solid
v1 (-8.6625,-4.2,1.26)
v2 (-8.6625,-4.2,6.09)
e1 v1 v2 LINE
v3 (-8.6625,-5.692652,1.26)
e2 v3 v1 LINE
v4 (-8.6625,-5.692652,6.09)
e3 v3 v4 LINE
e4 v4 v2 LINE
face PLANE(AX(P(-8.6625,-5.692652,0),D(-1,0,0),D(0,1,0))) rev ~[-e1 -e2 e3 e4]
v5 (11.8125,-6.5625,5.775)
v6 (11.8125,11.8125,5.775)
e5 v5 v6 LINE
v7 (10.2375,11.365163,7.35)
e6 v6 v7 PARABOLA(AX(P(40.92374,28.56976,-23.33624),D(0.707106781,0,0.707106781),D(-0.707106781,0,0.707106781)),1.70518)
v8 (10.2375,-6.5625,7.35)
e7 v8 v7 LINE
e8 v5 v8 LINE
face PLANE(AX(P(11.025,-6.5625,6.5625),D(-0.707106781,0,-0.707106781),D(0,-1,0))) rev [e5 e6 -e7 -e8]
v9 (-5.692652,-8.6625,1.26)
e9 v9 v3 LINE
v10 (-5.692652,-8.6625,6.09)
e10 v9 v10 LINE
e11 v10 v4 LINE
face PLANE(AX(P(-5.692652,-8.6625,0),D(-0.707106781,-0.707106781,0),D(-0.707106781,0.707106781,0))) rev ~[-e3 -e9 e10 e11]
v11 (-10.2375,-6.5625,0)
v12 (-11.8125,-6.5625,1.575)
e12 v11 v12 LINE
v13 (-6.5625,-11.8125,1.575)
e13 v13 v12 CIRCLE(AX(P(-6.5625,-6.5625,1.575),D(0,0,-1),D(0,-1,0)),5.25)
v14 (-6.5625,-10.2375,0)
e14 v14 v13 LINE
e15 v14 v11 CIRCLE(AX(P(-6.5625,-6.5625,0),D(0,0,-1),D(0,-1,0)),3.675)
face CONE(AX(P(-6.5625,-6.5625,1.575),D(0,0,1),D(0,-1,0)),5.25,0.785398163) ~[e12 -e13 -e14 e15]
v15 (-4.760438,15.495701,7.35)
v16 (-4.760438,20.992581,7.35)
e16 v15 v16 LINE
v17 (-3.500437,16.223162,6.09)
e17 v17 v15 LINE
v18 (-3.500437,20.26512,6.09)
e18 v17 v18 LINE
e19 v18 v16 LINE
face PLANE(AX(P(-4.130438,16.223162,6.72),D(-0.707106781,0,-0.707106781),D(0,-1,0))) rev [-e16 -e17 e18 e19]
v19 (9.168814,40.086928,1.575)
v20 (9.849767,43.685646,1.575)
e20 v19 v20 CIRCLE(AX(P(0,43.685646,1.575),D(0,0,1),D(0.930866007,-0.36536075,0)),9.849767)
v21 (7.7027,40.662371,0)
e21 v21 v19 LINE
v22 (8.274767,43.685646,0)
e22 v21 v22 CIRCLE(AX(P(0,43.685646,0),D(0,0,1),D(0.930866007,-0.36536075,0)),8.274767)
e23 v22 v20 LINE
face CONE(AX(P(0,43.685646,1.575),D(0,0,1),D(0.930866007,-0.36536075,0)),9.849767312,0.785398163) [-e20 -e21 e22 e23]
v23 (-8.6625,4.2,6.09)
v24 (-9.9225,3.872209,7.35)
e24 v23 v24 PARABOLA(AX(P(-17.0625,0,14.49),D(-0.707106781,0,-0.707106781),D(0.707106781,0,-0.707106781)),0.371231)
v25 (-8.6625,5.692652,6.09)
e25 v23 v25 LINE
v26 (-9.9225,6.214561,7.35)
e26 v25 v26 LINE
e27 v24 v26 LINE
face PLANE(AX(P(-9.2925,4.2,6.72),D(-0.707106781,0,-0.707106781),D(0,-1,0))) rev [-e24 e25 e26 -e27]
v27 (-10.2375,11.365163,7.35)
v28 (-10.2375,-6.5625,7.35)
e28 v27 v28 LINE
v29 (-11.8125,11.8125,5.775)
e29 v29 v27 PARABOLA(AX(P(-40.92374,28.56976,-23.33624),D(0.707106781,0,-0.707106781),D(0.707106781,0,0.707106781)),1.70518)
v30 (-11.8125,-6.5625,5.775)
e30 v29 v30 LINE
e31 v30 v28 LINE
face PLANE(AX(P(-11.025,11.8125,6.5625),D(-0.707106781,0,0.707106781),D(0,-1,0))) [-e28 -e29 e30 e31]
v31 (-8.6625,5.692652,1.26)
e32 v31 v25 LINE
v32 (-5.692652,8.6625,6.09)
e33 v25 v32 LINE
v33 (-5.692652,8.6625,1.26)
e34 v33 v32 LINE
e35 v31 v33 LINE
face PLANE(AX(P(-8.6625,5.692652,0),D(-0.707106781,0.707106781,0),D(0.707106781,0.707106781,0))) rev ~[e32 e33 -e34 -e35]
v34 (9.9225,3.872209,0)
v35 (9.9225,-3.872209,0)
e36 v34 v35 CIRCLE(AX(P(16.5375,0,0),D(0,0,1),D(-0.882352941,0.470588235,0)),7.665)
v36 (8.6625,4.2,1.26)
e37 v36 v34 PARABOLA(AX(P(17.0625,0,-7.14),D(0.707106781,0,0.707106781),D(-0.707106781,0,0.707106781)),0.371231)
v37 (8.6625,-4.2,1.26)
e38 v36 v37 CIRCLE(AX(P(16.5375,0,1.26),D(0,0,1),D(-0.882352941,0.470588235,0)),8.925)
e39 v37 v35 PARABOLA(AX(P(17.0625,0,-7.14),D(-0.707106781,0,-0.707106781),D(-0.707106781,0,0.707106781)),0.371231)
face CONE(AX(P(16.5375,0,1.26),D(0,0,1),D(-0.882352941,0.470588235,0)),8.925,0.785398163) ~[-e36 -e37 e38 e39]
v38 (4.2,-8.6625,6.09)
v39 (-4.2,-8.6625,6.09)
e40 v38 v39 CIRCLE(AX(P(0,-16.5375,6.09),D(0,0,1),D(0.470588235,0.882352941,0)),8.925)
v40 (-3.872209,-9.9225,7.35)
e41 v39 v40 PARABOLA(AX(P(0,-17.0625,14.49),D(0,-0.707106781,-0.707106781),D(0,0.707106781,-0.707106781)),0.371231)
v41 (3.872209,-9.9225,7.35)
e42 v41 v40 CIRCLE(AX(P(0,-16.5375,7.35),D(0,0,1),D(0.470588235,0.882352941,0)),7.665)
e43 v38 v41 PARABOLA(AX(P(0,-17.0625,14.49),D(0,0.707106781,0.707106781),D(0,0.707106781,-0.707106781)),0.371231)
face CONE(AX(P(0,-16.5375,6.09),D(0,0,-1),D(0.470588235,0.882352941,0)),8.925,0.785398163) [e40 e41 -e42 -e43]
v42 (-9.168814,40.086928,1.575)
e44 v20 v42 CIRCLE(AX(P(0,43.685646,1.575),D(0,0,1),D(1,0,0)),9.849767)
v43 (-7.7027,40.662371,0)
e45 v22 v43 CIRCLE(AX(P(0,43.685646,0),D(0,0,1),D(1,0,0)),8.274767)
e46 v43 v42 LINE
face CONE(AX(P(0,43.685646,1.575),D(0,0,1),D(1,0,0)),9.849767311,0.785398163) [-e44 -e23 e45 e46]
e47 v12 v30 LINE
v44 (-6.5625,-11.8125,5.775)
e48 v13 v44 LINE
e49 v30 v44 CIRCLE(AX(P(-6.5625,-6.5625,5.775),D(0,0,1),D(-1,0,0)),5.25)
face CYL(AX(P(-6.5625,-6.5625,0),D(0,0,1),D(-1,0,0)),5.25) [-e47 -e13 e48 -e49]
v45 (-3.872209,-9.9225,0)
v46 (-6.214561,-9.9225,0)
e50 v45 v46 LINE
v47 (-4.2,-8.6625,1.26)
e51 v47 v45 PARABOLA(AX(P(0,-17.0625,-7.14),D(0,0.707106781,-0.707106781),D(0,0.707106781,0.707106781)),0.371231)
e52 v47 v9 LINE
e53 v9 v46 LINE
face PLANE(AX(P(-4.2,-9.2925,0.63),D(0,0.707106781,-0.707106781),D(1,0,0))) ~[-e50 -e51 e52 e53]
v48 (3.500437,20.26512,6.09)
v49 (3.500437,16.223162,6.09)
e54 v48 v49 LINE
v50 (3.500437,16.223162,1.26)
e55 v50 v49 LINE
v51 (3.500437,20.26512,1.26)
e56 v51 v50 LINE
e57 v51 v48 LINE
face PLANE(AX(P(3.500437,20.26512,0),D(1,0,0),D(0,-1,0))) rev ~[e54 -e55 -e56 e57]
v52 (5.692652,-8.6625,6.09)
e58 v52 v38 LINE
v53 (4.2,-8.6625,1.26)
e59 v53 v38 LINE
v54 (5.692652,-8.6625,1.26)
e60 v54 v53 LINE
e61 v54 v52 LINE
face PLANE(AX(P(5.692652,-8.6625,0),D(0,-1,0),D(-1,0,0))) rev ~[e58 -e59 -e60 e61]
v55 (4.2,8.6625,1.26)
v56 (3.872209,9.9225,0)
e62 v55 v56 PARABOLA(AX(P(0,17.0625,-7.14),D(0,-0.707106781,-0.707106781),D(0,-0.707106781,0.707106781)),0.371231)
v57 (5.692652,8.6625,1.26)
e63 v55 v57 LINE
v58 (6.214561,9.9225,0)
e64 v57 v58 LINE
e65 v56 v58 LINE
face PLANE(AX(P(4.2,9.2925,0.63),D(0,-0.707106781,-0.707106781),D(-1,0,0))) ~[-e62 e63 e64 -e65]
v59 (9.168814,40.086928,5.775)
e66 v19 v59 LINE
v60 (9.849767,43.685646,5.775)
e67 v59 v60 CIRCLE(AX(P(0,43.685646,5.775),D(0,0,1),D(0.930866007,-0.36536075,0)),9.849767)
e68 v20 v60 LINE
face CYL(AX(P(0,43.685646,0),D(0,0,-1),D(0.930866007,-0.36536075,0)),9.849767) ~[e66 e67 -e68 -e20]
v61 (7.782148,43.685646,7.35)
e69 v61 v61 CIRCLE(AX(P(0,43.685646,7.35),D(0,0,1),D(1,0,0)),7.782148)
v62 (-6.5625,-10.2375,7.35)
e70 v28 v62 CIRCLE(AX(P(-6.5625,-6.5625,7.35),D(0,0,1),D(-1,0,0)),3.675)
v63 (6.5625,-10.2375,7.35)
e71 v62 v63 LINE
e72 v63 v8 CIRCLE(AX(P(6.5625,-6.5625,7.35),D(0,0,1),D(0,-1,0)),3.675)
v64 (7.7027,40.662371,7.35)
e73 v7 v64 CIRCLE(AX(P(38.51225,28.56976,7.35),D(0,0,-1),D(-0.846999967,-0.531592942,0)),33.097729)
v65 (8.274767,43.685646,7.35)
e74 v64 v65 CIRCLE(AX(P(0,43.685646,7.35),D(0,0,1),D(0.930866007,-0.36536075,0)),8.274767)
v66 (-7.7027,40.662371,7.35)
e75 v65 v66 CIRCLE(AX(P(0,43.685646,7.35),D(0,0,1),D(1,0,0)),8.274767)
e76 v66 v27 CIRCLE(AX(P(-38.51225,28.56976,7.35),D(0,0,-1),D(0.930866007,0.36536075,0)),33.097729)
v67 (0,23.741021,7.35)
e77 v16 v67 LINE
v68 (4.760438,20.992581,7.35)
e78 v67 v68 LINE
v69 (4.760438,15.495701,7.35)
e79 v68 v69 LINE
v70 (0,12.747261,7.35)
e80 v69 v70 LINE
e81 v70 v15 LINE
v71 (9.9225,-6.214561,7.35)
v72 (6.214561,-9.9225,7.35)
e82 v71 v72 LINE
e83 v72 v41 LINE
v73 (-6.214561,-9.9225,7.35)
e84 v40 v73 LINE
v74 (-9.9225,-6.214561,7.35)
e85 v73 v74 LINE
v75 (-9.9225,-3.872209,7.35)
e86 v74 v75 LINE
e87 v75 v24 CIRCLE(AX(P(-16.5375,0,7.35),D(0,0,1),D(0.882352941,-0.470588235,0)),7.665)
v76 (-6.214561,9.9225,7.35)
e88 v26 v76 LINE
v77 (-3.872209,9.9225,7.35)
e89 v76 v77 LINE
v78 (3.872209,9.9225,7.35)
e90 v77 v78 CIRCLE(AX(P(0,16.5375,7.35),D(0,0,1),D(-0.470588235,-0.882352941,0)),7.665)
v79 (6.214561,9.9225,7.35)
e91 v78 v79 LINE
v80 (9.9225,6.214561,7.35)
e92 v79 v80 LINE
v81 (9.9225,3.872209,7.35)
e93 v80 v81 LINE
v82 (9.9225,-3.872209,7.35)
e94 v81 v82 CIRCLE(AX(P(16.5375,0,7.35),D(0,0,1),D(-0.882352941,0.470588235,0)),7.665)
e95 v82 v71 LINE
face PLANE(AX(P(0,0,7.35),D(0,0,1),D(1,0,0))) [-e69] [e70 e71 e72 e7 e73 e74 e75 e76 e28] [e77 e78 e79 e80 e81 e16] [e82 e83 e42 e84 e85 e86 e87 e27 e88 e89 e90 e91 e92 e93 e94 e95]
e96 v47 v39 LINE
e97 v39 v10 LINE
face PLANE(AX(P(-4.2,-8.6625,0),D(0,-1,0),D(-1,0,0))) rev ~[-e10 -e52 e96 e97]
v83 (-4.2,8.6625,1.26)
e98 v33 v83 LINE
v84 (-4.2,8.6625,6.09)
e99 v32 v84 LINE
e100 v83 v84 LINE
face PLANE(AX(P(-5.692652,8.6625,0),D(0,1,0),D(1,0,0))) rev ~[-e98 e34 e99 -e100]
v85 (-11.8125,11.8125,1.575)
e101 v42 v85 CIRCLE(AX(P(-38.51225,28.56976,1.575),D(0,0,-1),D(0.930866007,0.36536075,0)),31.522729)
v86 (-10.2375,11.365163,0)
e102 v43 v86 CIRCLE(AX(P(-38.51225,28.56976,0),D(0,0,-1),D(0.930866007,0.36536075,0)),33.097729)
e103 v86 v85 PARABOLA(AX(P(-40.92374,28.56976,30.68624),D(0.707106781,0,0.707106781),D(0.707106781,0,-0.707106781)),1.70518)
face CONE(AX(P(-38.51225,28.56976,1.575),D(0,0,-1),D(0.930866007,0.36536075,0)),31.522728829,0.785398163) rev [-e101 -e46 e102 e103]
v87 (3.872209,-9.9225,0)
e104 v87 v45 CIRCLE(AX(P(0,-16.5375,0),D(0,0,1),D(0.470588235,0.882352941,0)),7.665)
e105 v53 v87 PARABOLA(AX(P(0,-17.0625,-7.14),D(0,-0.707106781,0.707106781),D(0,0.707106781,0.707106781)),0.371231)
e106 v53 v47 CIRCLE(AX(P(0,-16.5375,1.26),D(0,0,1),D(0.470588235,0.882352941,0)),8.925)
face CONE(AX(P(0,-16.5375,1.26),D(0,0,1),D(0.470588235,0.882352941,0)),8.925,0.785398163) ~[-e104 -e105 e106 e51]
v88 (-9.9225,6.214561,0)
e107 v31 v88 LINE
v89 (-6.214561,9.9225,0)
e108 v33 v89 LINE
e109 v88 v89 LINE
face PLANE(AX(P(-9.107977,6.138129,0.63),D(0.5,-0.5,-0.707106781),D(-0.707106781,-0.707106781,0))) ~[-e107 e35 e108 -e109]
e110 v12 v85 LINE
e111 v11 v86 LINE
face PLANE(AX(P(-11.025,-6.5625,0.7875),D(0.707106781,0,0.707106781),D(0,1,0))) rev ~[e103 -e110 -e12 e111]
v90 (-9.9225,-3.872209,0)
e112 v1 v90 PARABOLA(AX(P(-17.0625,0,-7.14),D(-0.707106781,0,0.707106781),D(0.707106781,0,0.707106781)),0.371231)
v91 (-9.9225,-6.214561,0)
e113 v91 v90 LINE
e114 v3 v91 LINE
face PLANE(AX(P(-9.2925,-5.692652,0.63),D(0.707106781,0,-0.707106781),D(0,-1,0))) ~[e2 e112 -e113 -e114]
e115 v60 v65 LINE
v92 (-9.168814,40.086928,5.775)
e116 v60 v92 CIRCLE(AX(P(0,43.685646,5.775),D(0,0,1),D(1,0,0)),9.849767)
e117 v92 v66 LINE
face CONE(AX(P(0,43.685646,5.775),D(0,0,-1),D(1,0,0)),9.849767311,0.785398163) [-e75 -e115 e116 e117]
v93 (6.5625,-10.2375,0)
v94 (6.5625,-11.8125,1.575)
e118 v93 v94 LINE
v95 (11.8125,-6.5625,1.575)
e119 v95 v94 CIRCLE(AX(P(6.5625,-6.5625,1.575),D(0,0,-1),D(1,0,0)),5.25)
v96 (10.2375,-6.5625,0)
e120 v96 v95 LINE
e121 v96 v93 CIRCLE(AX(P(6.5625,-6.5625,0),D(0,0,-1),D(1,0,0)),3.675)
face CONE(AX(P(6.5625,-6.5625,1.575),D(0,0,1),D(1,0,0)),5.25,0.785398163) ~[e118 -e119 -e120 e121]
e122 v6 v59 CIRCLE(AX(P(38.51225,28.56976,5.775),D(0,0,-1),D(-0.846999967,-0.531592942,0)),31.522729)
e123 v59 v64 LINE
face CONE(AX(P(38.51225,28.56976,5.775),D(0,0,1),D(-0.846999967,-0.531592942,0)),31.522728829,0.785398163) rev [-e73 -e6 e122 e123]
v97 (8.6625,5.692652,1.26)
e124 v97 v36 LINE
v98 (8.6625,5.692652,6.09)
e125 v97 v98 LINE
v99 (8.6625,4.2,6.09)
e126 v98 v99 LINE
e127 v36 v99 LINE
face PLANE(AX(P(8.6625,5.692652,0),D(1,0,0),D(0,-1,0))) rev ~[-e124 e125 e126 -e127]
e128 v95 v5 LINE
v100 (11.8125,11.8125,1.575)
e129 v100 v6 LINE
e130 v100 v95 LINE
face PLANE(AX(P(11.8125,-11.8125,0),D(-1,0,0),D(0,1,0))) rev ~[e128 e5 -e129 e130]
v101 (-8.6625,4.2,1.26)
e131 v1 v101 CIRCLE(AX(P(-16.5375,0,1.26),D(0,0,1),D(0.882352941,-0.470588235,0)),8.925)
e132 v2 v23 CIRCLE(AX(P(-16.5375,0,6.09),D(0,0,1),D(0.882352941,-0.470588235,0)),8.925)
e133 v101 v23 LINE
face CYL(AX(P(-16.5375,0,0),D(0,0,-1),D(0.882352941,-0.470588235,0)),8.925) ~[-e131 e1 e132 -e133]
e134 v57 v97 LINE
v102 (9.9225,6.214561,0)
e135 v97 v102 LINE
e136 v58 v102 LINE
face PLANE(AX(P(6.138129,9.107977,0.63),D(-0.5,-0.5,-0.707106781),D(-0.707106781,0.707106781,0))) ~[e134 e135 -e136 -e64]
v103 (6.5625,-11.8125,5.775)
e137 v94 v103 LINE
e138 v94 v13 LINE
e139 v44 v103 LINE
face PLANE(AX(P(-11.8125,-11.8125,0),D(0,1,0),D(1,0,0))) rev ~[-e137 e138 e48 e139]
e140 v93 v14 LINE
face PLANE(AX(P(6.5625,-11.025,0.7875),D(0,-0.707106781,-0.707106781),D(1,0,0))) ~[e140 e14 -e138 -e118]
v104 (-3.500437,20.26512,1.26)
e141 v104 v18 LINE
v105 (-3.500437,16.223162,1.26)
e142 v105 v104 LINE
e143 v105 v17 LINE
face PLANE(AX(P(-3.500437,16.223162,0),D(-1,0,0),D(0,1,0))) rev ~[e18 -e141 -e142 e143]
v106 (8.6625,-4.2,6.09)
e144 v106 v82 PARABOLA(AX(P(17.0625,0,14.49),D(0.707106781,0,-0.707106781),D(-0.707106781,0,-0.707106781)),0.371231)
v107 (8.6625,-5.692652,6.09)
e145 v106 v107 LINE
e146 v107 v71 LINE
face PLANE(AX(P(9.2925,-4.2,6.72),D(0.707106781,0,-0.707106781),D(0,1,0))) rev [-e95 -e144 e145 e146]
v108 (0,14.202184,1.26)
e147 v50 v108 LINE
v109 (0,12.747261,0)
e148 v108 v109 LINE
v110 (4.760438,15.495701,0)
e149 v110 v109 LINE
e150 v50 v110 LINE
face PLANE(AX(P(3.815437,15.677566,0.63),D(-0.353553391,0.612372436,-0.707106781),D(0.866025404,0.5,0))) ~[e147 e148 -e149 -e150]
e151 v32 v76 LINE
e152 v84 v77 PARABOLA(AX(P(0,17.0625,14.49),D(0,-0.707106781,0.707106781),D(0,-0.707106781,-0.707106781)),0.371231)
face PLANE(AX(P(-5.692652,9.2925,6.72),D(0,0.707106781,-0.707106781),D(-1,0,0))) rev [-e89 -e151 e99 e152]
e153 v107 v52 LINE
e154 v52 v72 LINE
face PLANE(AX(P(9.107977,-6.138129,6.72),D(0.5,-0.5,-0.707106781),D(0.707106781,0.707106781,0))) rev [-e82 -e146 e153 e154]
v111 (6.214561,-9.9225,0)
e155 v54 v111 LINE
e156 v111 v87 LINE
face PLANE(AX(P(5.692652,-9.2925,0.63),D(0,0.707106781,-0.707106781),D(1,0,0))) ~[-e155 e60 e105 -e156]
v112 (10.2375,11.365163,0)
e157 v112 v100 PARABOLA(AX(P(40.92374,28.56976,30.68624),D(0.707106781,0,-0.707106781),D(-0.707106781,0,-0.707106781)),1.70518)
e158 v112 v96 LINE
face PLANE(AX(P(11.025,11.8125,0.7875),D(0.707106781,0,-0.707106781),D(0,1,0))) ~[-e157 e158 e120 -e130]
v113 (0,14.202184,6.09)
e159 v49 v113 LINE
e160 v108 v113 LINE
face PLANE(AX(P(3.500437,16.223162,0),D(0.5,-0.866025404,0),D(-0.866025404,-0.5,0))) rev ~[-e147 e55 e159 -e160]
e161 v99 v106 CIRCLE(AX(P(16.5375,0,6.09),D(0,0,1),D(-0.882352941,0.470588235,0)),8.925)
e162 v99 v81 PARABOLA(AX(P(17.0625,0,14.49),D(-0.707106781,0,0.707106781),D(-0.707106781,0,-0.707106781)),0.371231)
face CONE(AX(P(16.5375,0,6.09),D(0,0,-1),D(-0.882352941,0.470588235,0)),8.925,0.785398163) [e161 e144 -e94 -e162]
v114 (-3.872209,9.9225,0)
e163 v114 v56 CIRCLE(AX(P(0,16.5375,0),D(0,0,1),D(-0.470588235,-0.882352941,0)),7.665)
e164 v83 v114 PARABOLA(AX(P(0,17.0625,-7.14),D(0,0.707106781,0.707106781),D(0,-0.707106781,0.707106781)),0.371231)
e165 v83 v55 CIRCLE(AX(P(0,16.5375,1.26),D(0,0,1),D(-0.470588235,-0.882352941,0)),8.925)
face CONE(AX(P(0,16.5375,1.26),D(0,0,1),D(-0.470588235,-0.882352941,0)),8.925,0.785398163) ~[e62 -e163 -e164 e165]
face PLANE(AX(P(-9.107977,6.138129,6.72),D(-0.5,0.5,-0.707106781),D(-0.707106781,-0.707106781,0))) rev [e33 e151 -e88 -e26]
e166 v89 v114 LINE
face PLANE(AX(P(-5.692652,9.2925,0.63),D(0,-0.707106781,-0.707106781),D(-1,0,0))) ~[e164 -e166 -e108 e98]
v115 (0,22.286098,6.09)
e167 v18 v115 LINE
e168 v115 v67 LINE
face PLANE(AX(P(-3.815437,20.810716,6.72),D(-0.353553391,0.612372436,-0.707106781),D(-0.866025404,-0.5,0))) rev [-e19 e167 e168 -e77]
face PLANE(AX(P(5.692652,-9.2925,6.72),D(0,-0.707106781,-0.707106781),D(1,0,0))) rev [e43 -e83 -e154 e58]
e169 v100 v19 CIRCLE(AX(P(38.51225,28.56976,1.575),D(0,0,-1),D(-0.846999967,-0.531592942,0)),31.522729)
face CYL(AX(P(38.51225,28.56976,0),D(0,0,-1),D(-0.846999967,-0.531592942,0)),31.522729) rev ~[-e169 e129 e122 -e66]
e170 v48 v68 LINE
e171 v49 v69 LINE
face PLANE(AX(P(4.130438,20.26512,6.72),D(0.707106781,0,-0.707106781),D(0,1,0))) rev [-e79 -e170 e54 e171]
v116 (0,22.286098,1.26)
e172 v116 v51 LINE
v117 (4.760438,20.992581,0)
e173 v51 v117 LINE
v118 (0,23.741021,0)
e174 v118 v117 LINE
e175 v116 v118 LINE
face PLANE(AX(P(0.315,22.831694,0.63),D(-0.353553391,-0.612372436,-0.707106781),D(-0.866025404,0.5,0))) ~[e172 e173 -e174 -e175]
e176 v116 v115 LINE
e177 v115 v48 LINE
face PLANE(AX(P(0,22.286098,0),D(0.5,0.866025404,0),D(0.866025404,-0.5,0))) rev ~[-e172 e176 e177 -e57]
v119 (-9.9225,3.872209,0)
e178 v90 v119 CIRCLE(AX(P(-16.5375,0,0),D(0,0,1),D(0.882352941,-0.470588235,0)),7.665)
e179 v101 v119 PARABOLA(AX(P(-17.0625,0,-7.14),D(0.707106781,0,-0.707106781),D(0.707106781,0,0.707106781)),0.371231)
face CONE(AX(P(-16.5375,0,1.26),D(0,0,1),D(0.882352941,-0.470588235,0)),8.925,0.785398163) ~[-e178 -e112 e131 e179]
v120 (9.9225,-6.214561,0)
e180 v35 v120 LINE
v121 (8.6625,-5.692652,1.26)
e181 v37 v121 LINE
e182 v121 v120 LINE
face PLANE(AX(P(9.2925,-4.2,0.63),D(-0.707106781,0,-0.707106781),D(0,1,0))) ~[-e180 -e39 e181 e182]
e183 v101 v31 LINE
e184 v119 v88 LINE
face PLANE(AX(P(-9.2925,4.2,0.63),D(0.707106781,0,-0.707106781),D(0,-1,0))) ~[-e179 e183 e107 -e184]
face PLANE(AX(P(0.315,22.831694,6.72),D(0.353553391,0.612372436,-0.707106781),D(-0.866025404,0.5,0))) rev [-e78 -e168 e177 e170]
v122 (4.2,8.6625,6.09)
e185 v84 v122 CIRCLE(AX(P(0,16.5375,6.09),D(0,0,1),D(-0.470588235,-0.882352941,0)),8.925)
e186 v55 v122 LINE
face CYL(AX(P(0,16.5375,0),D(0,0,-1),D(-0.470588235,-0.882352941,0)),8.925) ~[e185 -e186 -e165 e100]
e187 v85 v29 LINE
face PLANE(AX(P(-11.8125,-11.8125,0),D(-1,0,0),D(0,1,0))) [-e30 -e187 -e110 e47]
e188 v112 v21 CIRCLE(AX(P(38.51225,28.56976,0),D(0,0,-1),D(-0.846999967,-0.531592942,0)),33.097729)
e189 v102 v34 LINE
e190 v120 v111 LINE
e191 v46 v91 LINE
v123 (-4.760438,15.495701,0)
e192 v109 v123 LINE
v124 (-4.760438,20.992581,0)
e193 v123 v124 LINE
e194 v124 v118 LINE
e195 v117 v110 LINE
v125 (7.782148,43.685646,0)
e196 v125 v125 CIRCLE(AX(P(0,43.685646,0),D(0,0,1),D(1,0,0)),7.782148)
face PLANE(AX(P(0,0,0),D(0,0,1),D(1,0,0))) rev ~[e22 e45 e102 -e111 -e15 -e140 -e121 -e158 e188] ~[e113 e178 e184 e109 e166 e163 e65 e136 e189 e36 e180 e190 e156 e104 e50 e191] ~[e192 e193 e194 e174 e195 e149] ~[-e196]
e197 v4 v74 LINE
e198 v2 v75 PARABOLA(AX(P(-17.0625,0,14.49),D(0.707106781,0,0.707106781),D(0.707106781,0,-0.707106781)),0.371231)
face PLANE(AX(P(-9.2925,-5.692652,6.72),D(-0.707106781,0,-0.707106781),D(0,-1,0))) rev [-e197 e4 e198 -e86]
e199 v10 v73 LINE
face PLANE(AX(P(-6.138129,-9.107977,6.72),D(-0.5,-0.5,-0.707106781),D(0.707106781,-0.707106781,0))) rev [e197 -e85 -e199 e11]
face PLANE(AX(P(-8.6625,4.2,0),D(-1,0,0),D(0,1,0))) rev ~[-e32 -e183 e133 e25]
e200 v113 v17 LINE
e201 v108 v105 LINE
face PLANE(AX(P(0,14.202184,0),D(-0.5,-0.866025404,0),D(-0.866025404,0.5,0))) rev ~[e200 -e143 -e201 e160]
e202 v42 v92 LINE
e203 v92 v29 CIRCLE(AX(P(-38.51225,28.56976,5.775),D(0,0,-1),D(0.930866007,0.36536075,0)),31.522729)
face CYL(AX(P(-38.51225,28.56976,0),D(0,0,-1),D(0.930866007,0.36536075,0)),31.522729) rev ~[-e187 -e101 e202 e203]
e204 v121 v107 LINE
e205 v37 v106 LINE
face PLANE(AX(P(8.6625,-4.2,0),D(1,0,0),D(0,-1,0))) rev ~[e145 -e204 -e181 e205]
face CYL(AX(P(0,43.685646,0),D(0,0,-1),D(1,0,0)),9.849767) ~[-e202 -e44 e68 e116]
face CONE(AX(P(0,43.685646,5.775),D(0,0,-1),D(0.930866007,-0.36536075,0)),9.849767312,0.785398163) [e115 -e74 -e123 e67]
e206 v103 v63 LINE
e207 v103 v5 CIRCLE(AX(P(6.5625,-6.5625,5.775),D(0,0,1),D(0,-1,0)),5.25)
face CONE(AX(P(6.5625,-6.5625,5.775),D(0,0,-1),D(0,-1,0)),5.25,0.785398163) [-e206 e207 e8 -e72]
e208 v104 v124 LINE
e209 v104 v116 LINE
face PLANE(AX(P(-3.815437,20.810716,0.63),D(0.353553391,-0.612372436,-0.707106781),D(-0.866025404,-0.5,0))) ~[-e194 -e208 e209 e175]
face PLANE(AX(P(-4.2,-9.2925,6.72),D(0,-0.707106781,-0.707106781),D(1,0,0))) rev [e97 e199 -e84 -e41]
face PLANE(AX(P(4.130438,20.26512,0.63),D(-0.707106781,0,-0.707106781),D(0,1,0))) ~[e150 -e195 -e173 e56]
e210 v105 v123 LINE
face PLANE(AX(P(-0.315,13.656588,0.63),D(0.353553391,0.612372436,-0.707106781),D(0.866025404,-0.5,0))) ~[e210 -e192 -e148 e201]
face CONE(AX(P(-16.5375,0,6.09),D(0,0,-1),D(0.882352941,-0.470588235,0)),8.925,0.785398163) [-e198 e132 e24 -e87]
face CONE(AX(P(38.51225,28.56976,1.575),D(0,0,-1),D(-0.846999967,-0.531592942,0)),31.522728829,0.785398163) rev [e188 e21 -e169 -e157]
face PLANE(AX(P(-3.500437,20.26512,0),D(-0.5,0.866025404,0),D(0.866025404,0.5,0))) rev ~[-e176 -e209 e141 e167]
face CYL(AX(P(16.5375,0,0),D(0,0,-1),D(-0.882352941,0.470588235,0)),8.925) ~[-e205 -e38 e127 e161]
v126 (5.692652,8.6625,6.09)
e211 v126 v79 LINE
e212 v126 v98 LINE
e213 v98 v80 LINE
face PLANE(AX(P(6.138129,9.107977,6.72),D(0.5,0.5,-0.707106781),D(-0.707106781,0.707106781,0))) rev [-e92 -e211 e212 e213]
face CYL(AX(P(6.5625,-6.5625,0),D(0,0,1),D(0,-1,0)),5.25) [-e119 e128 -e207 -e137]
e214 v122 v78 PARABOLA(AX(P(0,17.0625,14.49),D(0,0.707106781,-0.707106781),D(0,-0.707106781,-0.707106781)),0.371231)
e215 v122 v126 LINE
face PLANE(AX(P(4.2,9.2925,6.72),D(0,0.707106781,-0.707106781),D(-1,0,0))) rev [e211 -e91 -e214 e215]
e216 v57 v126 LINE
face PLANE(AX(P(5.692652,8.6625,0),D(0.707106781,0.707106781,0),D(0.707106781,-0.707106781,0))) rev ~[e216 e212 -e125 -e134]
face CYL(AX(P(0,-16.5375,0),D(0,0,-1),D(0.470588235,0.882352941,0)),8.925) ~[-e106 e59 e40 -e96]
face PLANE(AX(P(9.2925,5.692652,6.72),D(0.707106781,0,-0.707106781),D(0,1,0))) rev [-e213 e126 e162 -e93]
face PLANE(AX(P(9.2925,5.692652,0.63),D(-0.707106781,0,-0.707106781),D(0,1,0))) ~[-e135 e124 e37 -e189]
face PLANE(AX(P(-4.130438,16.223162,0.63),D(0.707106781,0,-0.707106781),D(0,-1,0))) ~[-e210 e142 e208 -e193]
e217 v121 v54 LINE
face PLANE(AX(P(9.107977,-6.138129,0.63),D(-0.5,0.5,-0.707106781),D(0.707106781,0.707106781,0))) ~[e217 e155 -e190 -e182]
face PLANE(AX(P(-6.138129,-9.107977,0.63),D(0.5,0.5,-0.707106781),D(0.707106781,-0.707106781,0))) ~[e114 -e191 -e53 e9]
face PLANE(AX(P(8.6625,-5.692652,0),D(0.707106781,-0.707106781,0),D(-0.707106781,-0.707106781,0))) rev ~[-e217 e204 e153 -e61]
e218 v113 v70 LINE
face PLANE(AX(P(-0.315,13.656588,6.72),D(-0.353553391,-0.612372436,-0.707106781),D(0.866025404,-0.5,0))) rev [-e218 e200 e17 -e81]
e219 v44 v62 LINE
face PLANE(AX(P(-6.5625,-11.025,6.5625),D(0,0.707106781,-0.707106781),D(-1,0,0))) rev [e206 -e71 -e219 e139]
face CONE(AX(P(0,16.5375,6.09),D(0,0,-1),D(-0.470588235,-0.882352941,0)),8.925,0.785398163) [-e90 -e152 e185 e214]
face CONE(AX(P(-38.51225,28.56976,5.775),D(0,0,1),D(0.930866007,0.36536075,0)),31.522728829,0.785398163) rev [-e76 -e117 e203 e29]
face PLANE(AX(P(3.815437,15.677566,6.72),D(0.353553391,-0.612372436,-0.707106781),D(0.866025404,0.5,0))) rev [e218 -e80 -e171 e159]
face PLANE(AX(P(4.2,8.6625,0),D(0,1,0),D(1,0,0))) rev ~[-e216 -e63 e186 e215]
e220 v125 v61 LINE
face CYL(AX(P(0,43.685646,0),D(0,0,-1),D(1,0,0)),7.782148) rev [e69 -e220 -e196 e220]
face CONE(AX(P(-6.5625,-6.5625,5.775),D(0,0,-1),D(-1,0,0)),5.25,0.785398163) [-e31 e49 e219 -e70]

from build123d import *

# Parameters (mm, degrees)
F0_W     = 22.5
F0_H     = 22.5
F0_R     = 7.4115696456
F1_DEPTH = 7
F2_SIZE  = 1.2
F3_R     = 5
F4_SIZE  = 1.5
F5_SCALE = 1.05


with BuildPart() as f1:
    # F0 (on Top) → F1 (new body)
    with BuildSketch(Plane.XY):
        Rectangle(F0_W, F0_H)
        with BuildLine():
            Line((4, 8.25), (5.4215728753, 8.25))
            Line((5.4215728753, 8.25), (8.25, 5.4215728753))
            Line((8.25, 5.4215728753), (8.25, 4))
            ThreePointArc((8.25, 4), (7.25, 0), (8.25, -4))
            Line((8.25, -4), (8.25, -5.4215728753))
            Line((8.25, -5.4215728753), (5.4215728753, -8.25))
            Line((5.4215728753, -8.25), (4, -8.25))
            ThreePointArc((4, -8.25), (0, -7.25), (-4, -8.25))
            Line((-4, -8.25), (-5.4215728753, -8.25))
            Line((-5.4215728753, -8.25), (-8.25, -5.4215728753))
            Line((-8.25, -5.4215728753), (-8.25, -4))
            ThreePointArc((-8.25, -4), (-7.25, 0), (-8.25, 4))
            Line((-8.25, 4), (-8.25, 5.4215728753))
            Line((-8.25, 5.4215728753), (-5.4215728753, 8.25))
            Line((-5.4215728753, 8.25), (-4, 8.25))
            ThreePointArc((-4, 8.25), (0, 7.25), (4, 8.25))
        make_face(mode=Mode.SUBTRACT)
        with BuildLine():
            Line((-11.25, 11.25), (11.25, 11.25))
            ThreePointArc((11.25, 11.25), (6.7870639403, 24.4144327009), (8.7322033942, 38.1780266762))
            ThreePointArc((8.7322033942, 38.1780266762), (0, 32.2246467329), (-8.7322033942, 38.1780266762))
            ThreePointArc((-8.7322033942, 38.1780266762), (-6.7870639403, 24.4144327009), (-11.25, 11.25))
        make_face()
        Polygon((3.33375, 15.4506308903), (0, 13.5258894304), (-3.33375, 15.4506308903), (-3.33375, 19.3001138101), (0, 21.22485527), (3.33375, 19.3001138101), align=None, mode=Mode.SUBTRACT)
        with BuildLine():
            ThreePointArc((-8.7322033942, 38.1780266762), (0, 32.2246467329), (8.7322033942, 38.1780266762))
            ThreePointArc((8.7322033942, 38.1780266762), (9.2171730729, 39.8612931132), (9.3807307723, 41.6053775052))
            ThreePointArc((9.3807307723, 41.6053775052), (-1.744084392, 50.8225505781), (-8.7322033942, 38.1780266762))
        make_face()
        with Locations((0, 41.6053775052)):
            Circle(F0_R, mode=Mode.SUBTRACT)
    extrude(amount=F1_DEPTH)

    # F2
    f2_edges = [f1.edges().sort_by_distance(p)[0] for p in [
        (-7.25, 0, 7),
        (-8.25, 4.710786, 7),
        (-6.835786, 6.835786, 7),
        (-4.710786, 8.25, 7),
        (0, 7.25, 7),
        (4.710786, 8.25, 7),
        (6.835786, 6.835786, 7),
        (8.25, 4.710786, 7),
        (7.25, 0, 7),
        (8.25, -4.710786, 7),
        (6.835786, -6.835786, 7),
        (4.710786, -8.25, 7),
        (0, -7.25, 7),
        (-4.710786, -8.25, 7),
        (-6.835786, -6.835786, 7),
        (-8.25, -4.710786, 7),
        (1.666875, 14.48826, 7),
        (-1.666875, 14.48826, 7),
        (-3.33375, 17.375372, 7),
        (-1.666875, 20.262485, 7),
        (1.666875, 20.262485, 7),
        (3.33375, 17.375372, 7),
        (-1.666875, 14.48826, 0),
        (1.666875, 14.48826, 0),
        (3.33375, 17.375372, 0),
        (1.666875, 20.262485, 0),
        (-1.666875, 20.262485, 0),
        (0, -7.25, 0),
        (-4.710786, -8.25, 0),
        (-6.835786, -6.835786, 0),
        (-8.25, -4.710786, 0),
        (-7.25, 0, 0),
        (-8.25, 4.710786, 0),
        (-4.710786, 8.25, 0),
        (4.710786, 8.25, 0),
        (-6.835786, 6.835786, 0),
        (0, 7.25, 0),
        (6.835786, 6.835786, 0),
        (8.25, 4.710786, 0),
        (7.25, 0, 0),
        (8.25, -4.710786, 0),
        (6.835786, -6.835786, 0),
        (4.710786, -8.25, 0),
        (-3.33375, 17.375372, 0),
    ]]
    chamfer(f2_edges, length=F2_SIZE)

    # F3
    f3_edges = [f1.edges().sort_by_distance(p)[0] for p in [
        (11.25, -11.25, 3.5),
        (-11.25, -11.25, 3.5),
    ]]
    fillet(f3_edges, radius=F3_R)

    # F4
    f4_edges = [f1.edges().sort_by_distance(p)[0] for p in [
        (0, 50.986108, 7),
        (11.25, 2.5, 7),
        (0, -11.25, 7),
        (-11.25, 2.5, 7),
        (0, 50.986108, 0),
        (-11.25, 2.5, 0),
        (0, -11.25, 0),
        (11.25, 2.5, 0),
    ]]
    chamfer(f4_edges, length=F4_SIZE)


with BuildPart() as f1_1:
    # F5: moved
    add(f1.part.scale(F5_SCALE))


solid = f1_1.part
